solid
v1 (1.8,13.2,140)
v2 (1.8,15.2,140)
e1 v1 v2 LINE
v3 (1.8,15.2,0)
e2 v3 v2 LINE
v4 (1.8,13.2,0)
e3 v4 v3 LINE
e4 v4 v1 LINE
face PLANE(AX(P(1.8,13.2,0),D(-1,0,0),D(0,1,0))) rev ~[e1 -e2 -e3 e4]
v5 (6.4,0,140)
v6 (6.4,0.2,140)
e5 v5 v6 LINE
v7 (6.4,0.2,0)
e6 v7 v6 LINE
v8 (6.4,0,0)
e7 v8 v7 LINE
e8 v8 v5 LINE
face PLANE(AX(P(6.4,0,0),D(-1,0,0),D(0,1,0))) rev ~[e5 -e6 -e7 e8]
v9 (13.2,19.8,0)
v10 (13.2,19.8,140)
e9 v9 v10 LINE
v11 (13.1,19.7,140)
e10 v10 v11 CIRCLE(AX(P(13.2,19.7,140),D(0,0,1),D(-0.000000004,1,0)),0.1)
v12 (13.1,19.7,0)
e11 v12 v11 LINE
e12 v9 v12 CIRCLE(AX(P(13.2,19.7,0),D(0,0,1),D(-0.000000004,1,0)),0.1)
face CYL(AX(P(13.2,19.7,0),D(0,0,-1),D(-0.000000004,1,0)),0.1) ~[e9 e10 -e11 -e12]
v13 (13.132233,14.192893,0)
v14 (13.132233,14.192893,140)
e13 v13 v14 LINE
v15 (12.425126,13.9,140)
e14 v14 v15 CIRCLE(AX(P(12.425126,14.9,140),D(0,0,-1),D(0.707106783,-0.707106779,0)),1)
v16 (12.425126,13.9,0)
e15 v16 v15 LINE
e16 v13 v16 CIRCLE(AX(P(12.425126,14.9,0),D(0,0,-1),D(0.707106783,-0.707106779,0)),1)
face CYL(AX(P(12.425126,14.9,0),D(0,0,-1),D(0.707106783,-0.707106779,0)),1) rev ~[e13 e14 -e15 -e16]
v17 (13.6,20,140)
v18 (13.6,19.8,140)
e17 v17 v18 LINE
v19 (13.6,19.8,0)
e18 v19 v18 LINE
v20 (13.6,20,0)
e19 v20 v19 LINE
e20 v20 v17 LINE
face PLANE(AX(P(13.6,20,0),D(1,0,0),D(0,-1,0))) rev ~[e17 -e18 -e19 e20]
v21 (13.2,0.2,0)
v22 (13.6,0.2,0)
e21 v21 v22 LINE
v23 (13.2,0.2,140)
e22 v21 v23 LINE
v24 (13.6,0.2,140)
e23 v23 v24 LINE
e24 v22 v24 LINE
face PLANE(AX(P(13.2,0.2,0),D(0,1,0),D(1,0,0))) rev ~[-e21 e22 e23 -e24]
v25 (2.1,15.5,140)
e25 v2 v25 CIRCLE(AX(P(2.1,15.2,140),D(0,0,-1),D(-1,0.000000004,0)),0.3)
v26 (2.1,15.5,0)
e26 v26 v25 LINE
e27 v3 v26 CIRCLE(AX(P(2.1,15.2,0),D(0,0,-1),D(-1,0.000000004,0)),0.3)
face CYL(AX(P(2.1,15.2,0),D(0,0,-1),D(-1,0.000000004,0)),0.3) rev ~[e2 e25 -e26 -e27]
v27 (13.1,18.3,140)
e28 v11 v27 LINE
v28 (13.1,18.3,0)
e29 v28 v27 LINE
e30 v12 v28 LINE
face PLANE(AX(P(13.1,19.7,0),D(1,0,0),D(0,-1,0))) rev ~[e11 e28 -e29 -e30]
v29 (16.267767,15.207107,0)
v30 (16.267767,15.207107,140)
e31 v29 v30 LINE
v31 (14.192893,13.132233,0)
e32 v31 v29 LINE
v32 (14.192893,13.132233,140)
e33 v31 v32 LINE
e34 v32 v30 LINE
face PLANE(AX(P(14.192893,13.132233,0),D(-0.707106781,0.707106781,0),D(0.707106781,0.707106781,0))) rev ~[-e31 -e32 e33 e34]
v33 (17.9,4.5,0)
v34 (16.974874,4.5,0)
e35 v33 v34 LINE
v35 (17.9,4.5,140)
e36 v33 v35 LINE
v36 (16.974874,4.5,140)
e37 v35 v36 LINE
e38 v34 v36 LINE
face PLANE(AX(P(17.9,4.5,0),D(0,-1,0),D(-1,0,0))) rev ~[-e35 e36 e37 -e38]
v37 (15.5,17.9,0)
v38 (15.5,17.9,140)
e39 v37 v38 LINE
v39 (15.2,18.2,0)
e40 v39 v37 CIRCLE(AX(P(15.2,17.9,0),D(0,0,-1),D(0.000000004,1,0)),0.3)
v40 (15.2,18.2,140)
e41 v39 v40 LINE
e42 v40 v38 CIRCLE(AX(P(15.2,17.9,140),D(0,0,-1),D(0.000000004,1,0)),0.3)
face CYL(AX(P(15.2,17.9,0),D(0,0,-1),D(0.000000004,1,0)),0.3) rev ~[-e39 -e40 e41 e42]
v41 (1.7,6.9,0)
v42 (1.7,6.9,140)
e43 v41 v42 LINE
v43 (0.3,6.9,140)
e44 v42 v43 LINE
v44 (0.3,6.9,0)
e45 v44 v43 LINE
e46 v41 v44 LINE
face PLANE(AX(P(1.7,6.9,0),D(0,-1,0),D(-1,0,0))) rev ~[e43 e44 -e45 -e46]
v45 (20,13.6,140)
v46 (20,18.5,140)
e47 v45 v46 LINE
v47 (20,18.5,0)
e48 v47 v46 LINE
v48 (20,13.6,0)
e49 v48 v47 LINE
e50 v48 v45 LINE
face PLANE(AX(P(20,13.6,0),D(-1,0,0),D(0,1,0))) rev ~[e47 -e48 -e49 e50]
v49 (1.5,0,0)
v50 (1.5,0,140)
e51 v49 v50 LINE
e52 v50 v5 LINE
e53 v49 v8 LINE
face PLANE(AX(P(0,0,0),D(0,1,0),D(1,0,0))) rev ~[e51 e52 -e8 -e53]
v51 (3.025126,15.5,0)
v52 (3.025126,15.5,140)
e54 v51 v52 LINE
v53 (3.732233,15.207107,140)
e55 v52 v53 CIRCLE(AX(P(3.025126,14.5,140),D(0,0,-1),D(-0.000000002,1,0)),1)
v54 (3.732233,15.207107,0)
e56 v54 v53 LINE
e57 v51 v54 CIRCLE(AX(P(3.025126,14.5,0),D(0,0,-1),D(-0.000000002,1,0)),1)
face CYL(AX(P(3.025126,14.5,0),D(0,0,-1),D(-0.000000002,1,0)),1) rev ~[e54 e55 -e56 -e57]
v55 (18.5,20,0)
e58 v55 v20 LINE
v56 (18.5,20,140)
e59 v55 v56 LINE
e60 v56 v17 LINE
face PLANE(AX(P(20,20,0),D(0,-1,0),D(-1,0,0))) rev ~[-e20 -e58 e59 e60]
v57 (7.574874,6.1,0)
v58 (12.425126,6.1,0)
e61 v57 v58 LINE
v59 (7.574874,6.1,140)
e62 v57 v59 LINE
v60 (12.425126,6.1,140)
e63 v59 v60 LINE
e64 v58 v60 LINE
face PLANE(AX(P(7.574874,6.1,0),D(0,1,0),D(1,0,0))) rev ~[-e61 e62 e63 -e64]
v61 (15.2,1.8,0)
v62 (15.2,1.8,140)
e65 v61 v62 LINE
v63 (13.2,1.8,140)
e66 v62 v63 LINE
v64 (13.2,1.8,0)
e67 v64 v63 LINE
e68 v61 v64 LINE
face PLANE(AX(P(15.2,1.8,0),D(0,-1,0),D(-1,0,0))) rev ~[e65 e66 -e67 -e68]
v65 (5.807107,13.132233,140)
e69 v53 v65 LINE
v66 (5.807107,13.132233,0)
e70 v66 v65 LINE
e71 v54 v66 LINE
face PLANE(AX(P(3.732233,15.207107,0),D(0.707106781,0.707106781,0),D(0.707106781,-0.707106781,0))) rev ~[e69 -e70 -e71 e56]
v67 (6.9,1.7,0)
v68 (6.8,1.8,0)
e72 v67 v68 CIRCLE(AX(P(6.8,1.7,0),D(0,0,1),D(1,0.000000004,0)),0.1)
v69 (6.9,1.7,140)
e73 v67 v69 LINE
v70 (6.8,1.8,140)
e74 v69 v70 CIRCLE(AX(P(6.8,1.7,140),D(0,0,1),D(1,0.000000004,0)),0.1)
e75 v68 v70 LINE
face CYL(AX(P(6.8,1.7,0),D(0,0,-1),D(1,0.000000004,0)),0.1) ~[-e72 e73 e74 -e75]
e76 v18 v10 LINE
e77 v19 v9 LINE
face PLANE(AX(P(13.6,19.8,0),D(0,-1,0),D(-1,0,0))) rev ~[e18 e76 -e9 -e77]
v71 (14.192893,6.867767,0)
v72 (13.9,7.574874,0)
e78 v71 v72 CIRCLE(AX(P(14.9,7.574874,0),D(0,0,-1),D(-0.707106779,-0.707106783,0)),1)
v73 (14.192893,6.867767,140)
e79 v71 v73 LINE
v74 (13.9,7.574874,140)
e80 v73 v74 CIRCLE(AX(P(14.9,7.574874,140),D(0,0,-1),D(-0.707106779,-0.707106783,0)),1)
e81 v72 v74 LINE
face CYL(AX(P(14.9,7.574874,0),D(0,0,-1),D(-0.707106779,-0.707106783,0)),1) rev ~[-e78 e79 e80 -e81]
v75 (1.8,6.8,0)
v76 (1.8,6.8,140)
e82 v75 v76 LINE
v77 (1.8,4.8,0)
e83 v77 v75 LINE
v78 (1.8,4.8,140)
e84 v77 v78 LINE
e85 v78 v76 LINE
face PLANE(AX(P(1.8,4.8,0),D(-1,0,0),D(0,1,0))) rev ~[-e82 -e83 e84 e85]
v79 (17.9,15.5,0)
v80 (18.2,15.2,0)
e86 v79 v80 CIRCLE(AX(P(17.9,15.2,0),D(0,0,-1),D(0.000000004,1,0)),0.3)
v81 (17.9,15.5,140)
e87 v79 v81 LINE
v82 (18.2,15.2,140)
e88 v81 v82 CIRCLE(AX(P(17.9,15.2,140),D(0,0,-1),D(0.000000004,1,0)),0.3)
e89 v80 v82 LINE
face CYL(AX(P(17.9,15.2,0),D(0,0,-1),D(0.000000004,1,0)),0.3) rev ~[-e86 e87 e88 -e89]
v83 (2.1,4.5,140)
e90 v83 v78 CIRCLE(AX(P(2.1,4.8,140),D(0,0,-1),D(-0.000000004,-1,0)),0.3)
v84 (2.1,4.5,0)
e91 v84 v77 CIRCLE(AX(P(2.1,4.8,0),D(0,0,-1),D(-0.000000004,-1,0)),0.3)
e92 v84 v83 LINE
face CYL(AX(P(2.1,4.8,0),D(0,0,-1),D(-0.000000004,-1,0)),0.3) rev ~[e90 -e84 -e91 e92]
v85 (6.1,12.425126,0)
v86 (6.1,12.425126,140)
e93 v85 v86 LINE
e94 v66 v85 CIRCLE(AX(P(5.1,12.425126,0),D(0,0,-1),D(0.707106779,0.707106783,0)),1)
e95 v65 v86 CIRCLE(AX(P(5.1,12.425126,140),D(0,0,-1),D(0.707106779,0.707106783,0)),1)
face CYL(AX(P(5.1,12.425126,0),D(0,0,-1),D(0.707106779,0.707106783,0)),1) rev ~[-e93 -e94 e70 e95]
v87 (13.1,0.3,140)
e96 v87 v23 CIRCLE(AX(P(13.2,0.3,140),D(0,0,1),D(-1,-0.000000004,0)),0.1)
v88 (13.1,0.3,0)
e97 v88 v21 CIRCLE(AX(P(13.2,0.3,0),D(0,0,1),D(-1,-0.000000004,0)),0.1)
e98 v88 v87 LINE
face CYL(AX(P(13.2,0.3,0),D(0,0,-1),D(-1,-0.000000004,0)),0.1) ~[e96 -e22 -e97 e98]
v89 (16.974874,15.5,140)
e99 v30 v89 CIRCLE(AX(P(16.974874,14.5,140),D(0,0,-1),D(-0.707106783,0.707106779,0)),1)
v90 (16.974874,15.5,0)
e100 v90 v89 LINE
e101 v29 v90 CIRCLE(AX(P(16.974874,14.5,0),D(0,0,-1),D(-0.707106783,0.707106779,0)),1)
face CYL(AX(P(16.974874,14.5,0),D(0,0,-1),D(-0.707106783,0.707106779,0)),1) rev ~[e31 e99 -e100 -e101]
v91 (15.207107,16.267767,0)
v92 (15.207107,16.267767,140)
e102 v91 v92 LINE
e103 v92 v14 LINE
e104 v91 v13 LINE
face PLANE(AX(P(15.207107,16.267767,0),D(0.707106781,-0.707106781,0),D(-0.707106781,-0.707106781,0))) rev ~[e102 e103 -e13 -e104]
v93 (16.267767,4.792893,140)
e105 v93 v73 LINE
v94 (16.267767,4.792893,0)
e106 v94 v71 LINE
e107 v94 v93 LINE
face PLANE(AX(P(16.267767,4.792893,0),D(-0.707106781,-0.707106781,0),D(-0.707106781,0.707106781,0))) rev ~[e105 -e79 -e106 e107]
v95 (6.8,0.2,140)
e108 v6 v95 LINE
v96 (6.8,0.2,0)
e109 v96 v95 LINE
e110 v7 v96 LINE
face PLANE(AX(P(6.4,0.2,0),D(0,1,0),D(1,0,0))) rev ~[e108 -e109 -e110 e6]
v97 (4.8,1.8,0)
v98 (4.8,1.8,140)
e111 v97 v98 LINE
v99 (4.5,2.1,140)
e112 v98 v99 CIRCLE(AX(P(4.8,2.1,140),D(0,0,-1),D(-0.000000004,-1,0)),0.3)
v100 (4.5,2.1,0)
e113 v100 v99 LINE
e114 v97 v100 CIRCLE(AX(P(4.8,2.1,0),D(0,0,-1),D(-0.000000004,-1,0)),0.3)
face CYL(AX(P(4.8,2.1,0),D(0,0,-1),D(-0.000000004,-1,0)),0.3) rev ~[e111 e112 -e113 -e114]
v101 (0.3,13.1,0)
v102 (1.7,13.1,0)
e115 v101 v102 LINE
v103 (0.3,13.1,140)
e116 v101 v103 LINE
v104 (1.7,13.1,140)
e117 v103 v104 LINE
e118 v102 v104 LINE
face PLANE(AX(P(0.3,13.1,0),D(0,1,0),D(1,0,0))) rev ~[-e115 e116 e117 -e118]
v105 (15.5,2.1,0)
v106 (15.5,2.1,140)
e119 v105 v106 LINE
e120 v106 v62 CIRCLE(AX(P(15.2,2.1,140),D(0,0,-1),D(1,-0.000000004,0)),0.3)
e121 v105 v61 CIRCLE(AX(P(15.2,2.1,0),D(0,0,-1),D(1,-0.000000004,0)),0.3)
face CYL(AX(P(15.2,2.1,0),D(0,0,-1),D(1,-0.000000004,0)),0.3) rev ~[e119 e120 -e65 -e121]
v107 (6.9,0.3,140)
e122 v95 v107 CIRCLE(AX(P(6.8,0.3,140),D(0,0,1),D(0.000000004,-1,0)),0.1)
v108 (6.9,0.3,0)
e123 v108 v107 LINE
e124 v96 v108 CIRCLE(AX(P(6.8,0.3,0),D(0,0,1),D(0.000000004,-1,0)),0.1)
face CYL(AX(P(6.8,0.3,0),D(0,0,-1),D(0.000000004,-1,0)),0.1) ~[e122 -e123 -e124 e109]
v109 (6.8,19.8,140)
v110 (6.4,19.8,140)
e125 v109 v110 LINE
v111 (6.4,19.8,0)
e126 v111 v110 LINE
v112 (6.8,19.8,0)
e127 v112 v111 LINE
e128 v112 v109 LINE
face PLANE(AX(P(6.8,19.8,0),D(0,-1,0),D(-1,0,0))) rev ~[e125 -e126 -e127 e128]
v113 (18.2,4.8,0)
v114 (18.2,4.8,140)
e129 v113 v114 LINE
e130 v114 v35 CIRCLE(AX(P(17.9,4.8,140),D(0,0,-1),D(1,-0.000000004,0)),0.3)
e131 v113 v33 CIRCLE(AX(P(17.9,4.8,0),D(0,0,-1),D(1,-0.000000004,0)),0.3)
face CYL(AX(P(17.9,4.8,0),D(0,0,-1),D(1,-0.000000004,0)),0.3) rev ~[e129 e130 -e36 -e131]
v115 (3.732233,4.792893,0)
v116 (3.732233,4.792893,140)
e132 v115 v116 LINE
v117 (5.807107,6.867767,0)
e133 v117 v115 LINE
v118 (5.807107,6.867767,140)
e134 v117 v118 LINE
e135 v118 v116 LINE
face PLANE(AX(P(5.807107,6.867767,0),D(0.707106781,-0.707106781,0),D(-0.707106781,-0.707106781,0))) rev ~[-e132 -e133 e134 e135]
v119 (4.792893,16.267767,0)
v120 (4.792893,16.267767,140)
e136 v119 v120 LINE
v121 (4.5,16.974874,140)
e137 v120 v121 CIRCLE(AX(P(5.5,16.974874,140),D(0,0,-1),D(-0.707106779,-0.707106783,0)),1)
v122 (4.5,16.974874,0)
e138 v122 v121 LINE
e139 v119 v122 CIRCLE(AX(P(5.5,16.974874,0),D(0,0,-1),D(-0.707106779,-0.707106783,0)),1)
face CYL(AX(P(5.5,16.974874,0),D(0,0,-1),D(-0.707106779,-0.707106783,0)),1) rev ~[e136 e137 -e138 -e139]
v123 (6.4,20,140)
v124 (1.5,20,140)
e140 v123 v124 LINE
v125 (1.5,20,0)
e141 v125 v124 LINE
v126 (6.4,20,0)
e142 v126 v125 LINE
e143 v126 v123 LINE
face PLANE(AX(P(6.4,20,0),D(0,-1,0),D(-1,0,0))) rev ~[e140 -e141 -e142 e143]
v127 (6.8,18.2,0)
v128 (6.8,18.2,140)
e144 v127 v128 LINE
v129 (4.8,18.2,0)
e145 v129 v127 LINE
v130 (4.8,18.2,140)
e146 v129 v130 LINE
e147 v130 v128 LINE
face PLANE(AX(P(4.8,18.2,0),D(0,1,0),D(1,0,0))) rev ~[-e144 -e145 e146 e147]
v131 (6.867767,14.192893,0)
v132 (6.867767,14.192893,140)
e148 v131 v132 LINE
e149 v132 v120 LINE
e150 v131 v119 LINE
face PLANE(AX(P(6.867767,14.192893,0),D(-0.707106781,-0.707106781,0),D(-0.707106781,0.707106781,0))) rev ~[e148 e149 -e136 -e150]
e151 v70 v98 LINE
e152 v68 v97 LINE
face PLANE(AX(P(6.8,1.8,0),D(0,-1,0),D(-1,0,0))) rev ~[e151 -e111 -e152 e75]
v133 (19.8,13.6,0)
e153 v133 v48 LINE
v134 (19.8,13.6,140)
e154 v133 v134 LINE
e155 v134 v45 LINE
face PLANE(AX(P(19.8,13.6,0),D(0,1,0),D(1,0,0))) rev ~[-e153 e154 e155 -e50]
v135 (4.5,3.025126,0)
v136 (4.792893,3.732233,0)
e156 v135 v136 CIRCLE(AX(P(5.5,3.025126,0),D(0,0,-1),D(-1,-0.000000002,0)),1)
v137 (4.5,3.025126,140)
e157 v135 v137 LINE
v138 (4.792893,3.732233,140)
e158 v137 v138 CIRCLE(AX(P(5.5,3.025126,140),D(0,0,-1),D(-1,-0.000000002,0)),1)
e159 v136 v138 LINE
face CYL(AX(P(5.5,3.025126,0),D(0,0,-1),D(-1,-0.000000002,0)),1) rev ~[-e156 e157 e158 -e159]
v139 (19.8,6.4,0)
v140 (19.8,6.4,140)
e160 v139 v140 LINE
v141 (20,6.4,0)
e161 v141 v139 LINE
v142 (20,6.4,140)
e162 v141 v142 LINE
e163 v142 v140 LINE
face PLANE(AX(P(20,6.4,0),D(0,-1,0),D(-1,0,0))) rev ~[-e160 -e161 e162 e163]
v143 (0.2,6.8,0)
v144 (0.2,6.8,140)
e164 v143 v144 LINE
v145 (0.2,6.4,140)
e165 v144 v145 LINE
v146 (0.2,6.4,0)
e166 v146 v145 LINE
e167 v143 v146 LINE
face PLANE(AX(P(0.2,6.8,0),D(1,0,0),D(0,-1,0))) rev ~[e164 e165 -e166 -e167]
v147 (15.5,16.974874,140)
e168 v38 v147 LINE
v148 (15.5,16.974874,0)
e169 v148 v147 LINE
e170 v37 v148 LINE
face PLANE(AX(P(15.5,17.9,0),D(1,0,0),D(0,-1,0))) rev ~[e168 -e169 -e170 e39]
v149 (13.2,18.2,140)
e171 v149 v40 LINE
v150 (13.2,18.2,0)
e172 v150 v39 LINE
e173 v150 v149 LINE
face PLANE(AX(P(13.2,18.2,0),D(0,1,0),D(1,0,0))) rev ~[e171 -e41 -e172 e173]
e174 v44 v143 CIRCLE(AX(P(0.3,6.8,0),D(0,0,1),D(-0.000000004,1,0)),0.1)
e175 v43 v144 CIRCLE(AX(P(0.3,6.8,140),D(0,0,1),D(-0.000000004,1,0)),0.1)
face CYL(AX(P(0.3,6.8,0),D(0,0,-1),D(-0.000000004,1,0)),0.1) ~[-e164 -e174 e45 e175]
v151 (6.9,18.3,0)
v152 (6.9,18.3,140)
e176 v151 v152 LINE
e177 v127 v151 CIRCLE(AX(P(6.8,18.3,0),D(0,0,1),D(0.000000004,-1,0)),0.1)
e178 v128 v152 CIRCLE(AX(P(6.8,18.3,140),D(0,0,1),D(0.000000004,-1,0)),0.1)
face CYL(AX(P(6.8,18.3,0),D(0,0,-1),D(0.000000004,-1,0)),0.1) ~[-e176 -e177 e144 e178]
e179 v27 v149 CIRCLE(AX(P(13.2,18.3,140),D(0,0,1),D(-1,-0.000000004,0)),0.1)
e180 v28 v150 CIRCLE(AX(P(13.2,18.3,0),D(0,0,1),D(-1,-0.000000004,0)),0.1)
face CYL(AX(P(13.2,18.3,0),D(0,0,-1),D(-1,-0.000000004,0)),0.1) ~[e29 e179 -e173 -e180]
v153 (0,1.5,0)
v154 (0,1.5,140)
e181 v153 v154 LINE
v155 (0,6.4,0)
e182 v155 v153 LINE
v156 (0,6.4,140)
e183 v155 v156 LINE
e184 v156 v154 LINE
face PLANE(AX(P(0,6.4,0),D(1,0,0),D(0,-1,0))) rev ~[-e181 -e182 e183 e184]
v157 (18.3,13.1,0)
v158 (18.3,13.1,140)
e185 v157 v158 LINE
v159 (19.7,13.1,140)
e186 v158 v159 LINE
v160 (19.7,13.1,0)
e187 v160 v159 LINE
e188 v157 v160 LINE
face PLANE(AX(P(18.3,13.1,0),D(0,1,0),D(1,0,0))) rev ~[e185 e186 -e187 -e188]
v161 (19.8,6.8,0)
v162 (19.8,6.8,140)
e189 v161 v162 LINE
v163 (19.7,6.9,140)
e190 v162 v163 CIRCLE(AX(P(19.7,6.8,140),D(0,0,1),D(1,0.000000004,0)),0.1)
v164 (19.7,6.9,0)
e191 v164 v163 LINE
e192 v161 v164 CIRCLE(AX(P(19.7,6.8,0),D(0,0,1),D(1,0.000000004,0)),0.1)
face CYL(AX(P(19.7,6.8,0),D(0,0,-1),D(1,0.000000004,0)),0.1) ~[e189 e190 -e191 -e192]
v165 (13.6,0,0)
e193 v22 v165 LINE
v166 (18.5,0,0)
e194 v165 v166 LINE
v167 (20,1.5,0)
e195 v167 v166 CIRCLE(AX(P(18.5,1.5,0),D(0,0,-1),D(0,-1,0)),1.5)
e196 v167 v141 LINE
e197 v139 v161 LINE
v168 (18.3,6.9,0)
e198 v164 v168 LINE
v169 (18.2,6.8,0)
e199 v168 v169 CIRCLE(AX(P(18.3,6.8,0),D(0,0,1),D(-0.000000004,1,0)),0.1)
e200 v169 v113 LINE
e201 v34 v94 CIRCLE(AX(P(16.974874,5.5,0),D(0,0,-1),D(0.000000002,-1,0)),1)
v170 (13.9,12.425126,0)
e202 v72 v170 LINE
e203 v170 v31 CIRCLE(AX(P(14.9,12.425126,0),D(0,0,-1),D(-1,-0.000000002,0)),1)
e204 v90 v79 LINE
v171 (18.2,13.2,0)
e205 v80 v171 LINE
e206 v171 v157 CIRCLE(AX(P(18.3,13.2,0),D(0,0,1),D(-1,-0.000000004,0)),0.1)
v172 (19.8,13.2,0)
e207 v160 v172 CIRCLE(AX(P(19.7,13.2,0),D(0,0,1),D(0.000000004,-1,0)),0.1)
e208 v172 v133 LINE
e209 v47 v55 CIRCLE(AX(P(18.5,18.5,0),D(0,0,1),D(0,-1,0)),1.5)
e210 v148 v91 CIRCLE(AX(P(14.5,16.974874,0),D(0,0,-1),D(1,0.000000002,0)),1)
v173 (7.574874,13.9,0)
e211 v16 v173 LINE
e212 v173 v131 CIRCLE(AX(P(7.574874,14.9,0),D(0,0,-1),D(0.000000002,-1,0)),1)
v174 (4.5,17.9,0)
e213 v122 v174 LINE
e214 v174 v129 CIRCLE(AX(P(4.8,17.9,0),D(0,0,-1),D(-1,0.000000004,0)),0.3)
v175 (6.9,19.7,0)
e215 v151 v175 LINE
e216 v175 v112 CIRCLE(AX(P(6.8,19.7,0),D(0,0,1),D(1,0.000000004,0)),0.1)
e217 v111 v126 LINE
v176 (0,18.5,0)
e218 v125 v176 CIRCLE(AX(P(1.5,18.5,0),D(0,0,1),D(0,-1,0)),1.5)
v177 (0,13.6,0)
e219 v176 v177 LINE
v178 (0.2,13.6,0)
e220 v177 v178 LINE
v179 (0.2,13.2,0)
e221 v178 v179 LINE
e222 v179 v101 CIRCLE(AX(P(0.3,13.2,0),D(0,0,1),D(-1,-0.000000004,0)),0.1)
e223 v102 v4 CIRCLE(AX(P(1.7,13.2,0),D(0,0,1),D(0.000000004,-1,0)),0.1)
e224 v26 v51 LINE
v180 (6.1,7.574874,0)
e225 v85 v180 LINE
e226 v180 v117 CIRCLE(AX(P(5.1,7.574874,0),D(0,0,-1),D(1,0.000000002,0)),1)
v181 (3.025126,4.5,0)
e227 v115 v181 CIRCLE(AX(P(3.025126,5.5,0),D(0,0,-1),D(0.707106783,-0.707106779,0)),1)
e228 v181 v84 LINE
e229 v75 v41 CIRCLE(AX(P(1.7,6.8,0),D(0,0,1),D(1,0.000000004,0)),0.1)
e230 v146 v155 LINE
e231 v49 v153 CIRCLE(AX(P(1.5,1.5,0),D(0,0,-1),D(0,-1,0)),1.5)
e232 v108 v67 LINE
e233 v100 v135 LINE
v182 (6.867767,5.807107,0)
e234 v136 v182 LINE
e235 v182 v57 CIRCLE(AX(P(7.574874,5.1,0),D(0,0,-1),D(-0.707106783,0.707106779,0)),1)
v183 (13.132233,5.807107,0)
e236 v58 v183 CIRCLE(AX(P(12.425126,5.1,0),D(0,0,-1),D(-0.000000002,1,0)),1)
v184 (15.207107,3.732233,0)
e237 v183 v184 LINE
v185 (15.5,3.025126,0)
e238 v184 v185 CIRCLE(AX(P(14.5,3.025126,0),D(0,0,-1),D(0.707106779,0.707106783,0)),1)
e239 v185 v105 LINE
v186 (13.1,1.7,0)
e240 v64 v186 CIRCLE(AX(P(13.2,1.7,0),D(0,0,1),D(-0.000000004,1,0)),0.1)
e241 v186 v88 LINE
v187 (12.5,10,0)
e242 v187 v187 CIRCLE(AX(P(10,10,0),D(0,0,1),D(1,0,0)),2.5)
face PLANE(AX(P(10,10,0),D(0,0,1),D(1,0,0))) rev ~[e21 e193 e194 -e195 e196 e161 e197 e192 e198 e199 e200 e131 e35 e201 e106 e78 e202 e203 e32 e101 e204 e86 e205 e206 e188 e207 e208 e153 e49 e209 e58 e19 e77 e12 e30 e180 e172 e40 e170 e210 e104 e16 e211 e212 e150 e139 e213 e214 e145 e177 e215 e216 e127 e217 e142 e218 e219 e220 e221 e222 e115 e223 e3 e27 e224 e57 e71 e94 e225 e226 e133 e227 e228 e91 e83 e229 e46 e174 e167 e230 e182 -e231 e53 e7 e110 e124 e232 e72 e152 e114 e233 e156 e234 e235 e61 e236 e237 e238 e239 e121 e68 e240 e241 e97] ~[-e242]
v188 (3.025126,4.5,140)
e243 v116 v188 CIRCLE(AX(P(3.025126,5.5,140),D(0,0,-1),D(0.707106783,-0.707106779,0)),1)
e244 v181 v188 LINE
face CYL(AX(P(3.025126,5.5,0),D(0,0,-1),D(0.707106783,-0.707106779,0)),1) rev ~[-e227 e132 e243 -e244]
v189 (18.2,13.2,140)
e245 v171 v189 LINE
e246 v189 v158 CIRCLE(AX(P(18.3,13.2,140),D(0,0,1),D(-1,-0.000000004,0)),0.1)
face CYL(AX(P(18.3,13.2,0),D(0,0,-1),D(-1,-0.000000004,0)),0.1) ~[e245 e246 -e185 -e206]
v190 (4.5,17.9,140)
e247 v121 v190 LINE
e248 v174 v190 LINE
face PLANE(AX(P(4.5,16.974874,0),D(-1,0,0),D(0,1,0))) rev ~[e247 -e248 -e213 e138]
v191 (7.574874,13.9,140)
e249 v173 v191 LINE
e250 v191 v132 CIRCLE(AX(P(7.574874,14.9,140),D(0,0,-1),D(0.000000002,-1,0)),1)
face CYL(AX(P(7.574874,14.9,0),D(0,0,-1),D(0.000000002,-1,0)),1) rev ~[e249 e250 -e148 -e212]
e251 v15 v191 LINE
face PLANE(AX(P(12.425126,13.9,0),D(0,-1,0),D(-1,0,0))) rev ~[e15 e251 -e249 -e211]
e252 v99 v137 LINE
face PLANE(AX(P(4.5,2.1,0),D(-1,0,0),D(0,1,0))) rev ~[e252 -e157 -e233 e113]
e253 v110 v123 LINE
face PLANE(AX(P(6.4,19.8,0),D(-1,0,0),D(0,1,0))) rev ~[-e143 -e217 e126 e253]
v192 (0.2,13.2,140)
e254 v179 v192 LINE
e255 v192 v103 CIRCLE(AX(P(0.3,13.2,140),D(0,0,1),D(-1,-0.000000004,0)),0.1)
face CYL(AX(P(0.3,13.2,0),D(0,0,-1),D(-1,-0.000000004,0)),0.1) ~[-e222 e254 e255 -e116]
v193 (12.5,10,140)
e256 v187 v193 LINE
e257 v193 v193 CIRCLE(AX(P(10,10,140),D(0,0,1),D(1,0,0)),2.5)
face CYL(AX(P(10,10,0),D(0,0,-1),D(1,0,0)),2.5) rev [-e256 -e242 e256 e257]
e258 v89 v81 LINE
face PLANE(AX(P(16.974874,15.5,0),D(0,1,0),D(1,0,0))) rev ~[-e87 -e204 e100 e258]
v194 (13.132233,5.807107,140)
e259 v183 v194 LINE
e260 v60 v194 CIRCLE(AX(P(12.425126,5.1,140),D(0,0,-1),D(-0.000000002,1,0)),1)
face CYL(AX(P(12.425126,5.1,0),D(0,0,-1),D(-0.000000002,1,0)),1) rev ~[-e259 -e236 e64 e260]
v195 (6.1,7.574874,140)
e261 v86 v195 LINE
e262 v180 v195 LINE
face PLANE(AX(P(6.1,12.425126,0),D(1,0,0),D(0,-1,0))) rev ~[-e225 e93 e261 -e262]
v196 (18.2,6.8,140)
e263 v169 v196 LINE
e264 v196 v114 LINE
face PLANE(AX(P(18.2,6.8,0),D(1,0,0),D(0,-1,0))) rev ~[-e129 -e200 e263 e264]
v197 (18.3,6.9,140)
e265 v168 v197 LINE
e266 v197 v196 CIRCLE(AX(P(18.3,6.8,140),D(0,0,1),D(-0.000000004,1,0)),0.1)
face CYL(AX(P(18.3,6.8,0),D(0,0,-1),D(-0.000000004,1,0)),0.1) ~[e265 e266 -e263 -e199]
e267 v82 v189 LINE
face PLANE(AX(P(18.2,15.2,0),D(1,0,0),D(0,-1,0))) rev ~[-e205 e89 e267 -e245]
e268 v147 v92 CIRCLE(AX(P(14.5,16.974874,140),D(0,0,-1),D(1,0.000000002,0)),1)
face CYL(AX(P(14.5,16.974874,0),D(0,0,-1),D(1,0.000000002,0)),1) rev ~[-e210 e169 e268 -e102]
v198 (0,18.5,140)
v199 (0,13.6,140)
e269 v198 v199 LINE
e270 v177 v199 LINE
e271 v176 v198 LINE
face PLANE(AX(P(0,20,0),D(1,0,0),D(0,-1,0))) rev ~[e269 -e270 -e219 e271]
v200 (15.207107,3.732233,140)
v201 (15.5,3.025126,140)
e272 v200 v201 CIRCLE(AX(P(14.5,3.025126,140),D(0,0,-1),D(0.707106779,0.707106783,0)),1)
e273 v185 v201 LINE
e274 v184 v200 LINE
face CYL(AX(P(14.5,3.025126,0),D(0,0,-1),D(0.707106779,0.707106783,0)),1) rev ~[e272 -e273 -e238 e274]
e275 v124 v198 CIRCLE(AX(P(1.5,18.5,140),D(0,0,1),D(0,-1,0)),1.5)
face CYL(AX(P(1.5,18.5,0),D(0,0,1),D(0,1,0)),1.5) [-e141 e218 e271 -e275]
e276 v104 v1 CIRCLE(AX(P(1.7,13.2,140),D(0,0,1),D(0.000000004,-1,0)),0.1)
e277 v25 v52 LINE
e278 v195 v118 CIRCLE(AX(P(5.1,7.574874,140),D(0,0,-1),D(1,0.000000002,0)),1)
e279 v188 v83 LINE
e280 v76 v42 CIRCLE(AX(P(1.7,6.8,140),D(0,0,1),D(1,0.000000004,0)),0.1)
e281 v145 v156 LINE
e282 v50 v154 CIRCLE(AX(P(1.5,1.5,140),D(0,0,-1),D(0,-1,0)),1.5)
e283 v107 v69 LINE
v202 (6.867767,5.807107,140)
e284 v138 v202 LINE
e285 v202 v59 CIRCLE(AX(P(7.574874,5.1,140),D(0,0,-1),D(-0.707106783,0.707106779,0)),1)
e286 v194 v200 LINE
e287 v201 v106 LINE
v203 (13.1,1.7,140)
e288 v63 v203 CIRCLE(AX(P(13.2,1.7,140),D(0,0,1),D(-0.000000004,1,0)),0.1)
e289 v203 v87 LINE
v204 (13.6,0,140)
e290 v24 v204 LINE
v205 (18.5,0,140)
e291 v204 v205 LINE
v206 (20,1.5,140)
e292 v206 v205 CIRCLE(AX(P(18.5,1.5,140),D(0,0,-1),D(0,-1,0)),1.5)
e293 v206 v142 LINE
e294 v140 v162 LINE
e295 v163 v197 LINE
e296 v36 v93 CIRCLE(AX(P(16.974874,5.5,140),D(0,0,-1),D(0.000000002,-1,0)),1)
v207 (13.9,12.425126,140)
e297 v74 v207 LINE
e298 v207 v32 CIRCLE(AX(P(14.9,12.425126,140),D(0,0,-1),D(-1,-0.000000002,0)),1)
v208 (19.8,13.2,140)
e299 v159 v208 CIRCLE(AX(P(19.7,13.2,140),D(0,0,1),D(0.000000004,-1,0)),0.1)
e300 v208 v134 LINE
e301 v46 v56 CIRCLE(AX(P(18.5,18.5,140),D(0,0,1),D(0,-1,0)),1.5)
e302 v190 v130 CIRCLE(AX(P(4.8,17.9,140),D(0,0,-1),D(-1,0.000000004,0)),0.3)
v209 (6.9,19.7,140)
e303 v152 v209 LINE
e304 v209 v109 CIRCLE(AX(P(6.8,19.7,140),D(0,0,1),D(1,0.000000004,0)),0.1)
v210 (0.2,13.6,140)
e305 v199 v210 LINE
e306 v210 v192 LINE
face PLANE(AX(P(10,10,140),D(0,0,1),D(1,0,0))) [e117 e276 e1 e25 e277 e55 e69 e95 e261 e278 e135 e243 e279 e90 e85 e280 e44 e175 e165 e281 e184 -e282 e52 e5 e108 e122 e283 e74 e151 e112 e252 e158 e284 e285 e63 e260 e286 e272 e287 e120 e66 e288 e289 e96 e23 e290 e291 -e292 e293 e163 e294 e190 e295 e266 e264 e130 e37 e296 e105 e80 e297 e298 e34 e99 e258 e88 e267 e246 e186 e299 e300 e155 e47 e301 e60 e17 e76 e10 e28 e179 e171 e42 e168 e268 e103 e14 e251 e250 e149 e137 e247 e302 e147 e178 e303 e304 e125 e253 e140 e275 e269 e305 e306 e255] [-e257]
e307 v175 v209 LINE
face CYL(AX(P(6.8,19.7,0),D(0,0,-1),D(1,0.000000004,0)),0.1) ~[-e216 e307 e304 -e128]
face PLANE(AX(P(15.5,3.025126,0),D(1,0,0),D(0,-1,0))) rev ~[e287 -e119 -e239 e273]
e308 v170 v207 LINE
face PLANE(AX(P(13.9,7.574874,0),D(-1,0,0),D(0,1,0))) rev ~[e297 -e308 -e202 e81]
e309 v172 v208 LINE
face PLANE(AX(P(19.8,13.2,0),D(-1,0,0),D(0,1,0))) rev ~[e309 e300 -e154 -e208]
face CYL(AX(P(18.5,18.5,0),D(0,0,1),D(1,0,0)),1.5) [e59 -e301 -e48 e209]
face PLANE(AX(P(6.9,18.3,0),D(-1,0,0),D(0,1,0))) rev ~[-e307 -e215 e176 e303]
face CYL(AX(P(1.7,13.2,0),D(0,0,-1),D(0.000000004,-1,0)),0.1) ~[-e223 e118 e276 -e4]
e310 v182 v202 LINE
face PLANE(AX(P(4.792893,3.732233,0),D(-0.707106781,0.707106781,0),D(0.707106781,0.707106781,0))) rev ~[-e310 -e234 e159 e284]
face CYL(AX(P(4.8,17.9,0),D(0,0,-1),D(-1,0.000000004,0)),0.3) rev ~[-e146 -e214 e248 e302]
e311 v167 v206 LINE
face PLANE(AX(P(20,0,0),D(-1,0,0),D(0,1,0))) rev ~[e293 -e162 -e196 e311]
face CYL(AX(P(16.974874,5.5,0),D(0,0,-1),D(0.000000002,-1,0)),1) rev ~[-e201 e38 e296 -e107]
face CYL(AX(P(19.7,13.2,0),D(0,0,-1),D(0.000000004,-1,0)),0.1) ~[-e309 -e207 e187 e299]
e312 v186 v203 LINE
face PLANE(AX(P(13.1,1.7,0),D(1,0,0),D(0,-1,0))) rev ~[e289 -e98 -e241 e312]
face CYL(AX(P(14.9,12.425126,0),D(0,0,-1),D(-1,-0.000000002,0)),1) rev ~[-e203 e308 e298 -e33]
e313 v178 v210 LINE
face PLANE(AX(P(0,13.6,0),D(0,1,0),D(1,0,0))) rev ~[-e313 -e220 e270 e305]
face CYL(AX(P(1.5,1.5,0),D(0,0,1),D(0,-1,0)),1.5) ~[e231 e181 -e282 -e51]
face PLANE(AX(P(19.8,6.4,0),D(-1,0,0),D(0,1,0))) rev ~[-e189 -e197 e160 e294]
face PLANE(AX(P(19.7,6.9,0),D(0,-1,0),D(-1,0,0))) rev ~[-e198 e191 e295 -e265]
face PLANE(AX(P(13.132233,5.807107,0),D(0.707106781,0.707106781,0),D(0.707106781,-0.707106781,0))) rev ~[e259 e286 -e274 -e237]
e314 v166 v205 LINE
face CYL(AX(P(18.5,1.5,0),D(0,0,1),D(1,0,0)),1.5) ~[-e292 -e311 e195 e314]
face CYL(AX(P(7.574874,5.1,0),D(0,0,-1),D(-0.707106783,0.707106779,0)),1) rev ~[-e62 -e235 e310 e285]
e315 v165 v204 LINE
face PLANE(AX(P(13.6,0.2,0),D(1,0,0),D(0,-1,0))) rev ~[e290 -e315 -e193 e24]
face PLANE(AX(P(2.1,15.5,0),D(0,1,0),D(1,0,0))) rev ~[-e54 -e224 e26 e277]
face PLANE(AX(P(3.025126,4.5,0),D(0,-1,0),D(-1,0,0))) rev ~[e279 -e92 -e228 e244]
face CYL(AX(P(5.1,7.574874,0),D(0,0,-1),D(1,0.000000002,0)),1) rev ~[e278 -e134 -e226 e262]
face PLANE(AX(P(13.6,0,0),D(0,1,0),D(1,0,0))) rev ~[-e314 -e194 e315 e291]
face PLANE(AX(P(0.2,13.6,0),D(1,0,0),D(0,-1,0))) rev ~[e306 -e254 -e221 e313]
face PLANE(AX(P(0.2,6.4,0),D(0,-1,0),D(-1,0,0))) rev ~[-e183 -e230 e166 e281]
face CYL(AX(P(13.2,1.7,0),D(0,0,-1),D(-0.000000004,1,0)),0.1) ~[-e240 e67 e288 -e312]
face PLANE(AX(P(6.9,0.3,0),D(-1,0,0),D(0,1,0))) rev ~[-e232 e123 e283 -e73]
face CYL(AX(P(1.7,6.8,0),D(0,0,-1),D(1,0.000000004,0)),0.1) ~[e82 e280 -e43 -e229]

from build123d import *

# Parameters (mm, degrees)
SKETCH_1_R      = 2.5
EXTRUDE_1_DEPTH = 140
FILLET_1_R      = 1.5


with BuildPart() as part:
    # 草图1 → 凸台-拉伸1 (new body)
    with BuildSketch(Plane.XY):
        with BuildLine():
            Line((20, 13.6), (20, 20))
            Line((20, 20), (13.6, 20))
            Line((13.6, 20), (13.6, 19.8))
            Line((13.6, 19.8), (13.2, 19.8))
            ThreePointArc((13.2, 19.8), (13.129289322, 19.770710678), (13.1, 19.7))
            Line((13.1, 19.7), (13.1, 18.3))
            ThreePointArc((13.1, 18.3), (13.129289322, 18.229289322), (13.2, 18.2))
            Line((13.2, 18.2), (15.2, 18.2))
            ThreePointArc((15.2, 18.2), (15.412132034, 18.112132034), (15.5, 17.9))
            Line((15.5, 17.9), (15.5, 16.974873734))
            ThreePointArc((15.5, 16.974873734), (15.423879533, 16.592190302), (15.207106781, 16.267766953))
            Line((15.207106781, 16.267766953), (13.132233047, 14.192893219))
            ThreePointArc((13.132233047, 14.192893219), (12.807809698, 13.976120467), (12.425126266, 13.9))
            Line((12.425126266, 13.9), (7.574873734, 13.9))
            ThreePointArc((7.574873734, 13.9), (7.192190302, 13.976120467), (6.867766953, 14.192893219))
            Line((6.867766953, 14.192893219), (4.792893219, 16.267766953))
            ThreePointArc((4.792893219, 16.267766953), (4.576120467, 16.592190302), (4.5, 16.974873734))
            Line((4.5, 16.974873734), (4.5, 17.9))
            ThreePointArc((4.5, 17.9), (4.587867966, 18.112132034), (4.8, 18.2))
            Line((4.8, 18.2), (6.8, 18.2))
            ThreePointArc((6.8, 18.2), (6.870710678, 18.229289322), (6.9, 18.3))
            Line((6.9, 18.3), (6.9, 19.7))
            ThreePointArc((6.9, 19.7), (6.870710678, 19.770710678), (6.8, 19.8))
            Line((6.8, 19.8), (6.4, 19.8))
            Line((6.4, 19.8), (6.4, 20))
            Line((6.4, 20), (0, 20))
            Line((0, 20), (0, 13.6))
            Line((0, 13.6), (0.2, 13.6))
            Line((0.2, 13.6), (0.2, 13.2))
            ThreePointArc((0.2, 13.2), (0.229289322, 13.129289322), (0.3, 13.1))
            Line((0.3, 13.1), (1.7, 13.1))
            ThreePointArc((1.7, 13.1), (1.770710678, 13.129289322), (1.8, 13.2))
            Line((1.8, 13.2), (1.8, 15.2))
            ThreePointArc((1.8, 15.2), (1.887867966, 15.412132034), (2.1, 15.5))
            Line((2.1, 15.5), (3.025126266, 15.5))
            ThreePointArc((3.025126266, 15.5), (3.407809698, 15.423879533), (3.732233047, 15.207106781))
            Line((3.732233047, 15.207106781), (5.807106781, 13.132233047))
            ThreePointArc((5.807106781, 13.132233047), (6.023879533, 12.807809698), (6.1, 12.425126266))
            Line((6.1, 12.425126266), (6.1, 7.574873734))
            ThreePointArc((6.1, 7.574873734), (6.023879533, 7.192190302), (5.807106781, 6.867766953))
            Line((5.807106781, 6.867766953), (3.732233047, 4.792893219))
            ThreePointArc((3.732233047, 4.792893219), (3.407809698, 4.576120467), (3.025126266, 4.5))
            Line((3.025126266, 4.5), (2.1, 4.5))
            ThreePointArc((2.1, 4.5), (1.887867966, 4.587867966), (1.8, 4.8))
            Line((1.8, 4.8), (1.8, 6.8))
            ThreePointArc((1.8, 6.8), (1.770710678, 6.870710678), (1.7, 6.9))
            Line((1.7, 6.9), (0.3, 6.9))
            ThreePointArc((0.3, 6.9), (0.229289322, 6.870710678), (0.2, 6.8))
            Line((0.2, 6.8), (0.2, 6.4))
            Line((0.2, 6.4), (0, 6.4))
            Line((0, 6.4), (0, 0))
            Line((0, 0), (6.4, 0))
            Line((6.4, 0), (6.4, 0.2))
            Line((6.4, 0.2), (6.8, 0.2))
            ThreePointArc((6.8, 0.2), (6.870710678, 0.229289322), (6.9, 0.3))
            Line((6.9, 0.3), (6.9, 1.7))
            ThreePointArc((6.9, 1.7), (6.870710678, 1.770710678), (6.8, 1.8))
            Line((6.8, 1.8), (4.8, 1.8))
            ThreePointArc((4.8, 1.8), (4.587867966, 1.887867966), (4.5, 2.1))
            Line((4.5, 2.1), (4.5, 3.025126266))
            ThreePointArc((4.5, 3.025126266), (4.576120467, 3.407809698), (4.792893219, 3.732233047))
            Line((4.792893219, 3.732233047), (6.867766953, 5.807106781))
            ThreePointArc((6.867766953, 5.807106781), (7.192190302, 6.023879533), (7.574873734, 6.1))
            Line((7.574873734, 6.1), (12.425126266, 6.1))
            ThreePointArc((12.425126266, 6.1), (12.807809698, 6.023879533), (13.132233047, 5.807106781))
            Line((13.132233047, 5.807106781), (15.207106781, 3.732233047))
            ThreePointArc((15.207106781, 3.732233047), (15.423879533, 3.407809698), (15.5, 3.025126266))
            Line((15.5, 3.025126266), (15.5, 2.1))
            ThreePointArc((15.5, 2.1), (15.412132034, 1.887867966), (15.2, 1.8))
            Line((15.2, 1.8), (13.2, 1.8))
            ThreePointArc((13.2, 1.8), (13.129289322, 1.770710678), (13.1, 1.7))
            Line((13.1, 1.7), (13.1, 0.3))
            ThreePointArc((13.1, 0.3), (13.129289322, 0.229289322), (13.2, 0.2))
            Line((13.2, 0.2), (13.6, 0.2))
            Line((13.6, 0.2), (13.6, 0))
            Line((13.6, 0), (20, 0))
            Line((20, 0), (20, 6.4))
            Line((20, 6.4), (19.8, 6.4))
            Line((19.8, 6.4), (19.8, 6.8))
            ThreePointArc((19.8, 6.8), (19.770710678, 6.870710678), (19.7, 6.9))
            Line((19.7, 6.9), (18.3, 6.9))
            ThreePointArc((18.3, 6.9), (18.229289322, 6.870710678), (18.2, 6.8))
            Line((18.2, 6.8), (18.2, 4.8))
            ThreePointArc((18.2, 4.8), (18.112132034, 4.587867966), (17.9, 4.5))
            Line((17.9, 4.5), (16.974873734, 4.5))
            ThreePointArc((16.974873734, 4.5), (16.592190302, 4.576120467), (16.267766953, 4.792893219))
            Line((16.267766953, 4.792893219), (14.192893219, 6.867766953))
            ThreePointArc((14.192893219, 6.867766953), (13.976120467, 7.192190302), (13.9, 7.574873734))
            Line((13.9, 7.574873734), (13.9, 12.425126266))
            ThreePointArc((13.9, 12.425126266), (13.976120467, 12.807809698), (14.192893219, 13.132233047))
            Line((14.192893219, 13.132233047), (16.267766953, 15.207106781))
            ThreePointArc((16.267766953, 15.207106781), (16.592190302, 15.423879533), (16.974873734, 15.5))
            Line((16.974873734, 15.5), (17.9, 15.5))
            ThreePointArc((17.9, 15.5), (18.112132034, 15.412132034), (18.2, 15.2))
            Line((18.2, 15.2), (18.2, 13.2))
            ThreePointArc((18.2, 13.2), (18.229289322, 13.129289322), (18.3, 13.1))
            Line((18.3, 13.1), (19.7, 13.1))
            ThreePointArc((19.7, 13.1), (19.770710678, 13.129289322), (19.8, 13.2))
            Line((19.8, 13.2), (19.8, 13.6))
            Line((19.8, 13.6), (20, 13.6))
        make_face()
        with Locations((10, 10)):
            Circle(SKETCH_1_R, mode=Mode.SUBTRACT)
    extrude(amount=EXTRUDE_1_DEPTH)

    # 圆角1
    fillet_1_edges = [part.edges().sort_by_distance(p)[0] for p in [
        (0, 0, 70),
        (0, 20, 70),
        (20, 20, 70),
        (20, 0, 70),
    ]]
    fillet(fillet_1_edges, radius=FILLET_1_R)


solid = part.part
